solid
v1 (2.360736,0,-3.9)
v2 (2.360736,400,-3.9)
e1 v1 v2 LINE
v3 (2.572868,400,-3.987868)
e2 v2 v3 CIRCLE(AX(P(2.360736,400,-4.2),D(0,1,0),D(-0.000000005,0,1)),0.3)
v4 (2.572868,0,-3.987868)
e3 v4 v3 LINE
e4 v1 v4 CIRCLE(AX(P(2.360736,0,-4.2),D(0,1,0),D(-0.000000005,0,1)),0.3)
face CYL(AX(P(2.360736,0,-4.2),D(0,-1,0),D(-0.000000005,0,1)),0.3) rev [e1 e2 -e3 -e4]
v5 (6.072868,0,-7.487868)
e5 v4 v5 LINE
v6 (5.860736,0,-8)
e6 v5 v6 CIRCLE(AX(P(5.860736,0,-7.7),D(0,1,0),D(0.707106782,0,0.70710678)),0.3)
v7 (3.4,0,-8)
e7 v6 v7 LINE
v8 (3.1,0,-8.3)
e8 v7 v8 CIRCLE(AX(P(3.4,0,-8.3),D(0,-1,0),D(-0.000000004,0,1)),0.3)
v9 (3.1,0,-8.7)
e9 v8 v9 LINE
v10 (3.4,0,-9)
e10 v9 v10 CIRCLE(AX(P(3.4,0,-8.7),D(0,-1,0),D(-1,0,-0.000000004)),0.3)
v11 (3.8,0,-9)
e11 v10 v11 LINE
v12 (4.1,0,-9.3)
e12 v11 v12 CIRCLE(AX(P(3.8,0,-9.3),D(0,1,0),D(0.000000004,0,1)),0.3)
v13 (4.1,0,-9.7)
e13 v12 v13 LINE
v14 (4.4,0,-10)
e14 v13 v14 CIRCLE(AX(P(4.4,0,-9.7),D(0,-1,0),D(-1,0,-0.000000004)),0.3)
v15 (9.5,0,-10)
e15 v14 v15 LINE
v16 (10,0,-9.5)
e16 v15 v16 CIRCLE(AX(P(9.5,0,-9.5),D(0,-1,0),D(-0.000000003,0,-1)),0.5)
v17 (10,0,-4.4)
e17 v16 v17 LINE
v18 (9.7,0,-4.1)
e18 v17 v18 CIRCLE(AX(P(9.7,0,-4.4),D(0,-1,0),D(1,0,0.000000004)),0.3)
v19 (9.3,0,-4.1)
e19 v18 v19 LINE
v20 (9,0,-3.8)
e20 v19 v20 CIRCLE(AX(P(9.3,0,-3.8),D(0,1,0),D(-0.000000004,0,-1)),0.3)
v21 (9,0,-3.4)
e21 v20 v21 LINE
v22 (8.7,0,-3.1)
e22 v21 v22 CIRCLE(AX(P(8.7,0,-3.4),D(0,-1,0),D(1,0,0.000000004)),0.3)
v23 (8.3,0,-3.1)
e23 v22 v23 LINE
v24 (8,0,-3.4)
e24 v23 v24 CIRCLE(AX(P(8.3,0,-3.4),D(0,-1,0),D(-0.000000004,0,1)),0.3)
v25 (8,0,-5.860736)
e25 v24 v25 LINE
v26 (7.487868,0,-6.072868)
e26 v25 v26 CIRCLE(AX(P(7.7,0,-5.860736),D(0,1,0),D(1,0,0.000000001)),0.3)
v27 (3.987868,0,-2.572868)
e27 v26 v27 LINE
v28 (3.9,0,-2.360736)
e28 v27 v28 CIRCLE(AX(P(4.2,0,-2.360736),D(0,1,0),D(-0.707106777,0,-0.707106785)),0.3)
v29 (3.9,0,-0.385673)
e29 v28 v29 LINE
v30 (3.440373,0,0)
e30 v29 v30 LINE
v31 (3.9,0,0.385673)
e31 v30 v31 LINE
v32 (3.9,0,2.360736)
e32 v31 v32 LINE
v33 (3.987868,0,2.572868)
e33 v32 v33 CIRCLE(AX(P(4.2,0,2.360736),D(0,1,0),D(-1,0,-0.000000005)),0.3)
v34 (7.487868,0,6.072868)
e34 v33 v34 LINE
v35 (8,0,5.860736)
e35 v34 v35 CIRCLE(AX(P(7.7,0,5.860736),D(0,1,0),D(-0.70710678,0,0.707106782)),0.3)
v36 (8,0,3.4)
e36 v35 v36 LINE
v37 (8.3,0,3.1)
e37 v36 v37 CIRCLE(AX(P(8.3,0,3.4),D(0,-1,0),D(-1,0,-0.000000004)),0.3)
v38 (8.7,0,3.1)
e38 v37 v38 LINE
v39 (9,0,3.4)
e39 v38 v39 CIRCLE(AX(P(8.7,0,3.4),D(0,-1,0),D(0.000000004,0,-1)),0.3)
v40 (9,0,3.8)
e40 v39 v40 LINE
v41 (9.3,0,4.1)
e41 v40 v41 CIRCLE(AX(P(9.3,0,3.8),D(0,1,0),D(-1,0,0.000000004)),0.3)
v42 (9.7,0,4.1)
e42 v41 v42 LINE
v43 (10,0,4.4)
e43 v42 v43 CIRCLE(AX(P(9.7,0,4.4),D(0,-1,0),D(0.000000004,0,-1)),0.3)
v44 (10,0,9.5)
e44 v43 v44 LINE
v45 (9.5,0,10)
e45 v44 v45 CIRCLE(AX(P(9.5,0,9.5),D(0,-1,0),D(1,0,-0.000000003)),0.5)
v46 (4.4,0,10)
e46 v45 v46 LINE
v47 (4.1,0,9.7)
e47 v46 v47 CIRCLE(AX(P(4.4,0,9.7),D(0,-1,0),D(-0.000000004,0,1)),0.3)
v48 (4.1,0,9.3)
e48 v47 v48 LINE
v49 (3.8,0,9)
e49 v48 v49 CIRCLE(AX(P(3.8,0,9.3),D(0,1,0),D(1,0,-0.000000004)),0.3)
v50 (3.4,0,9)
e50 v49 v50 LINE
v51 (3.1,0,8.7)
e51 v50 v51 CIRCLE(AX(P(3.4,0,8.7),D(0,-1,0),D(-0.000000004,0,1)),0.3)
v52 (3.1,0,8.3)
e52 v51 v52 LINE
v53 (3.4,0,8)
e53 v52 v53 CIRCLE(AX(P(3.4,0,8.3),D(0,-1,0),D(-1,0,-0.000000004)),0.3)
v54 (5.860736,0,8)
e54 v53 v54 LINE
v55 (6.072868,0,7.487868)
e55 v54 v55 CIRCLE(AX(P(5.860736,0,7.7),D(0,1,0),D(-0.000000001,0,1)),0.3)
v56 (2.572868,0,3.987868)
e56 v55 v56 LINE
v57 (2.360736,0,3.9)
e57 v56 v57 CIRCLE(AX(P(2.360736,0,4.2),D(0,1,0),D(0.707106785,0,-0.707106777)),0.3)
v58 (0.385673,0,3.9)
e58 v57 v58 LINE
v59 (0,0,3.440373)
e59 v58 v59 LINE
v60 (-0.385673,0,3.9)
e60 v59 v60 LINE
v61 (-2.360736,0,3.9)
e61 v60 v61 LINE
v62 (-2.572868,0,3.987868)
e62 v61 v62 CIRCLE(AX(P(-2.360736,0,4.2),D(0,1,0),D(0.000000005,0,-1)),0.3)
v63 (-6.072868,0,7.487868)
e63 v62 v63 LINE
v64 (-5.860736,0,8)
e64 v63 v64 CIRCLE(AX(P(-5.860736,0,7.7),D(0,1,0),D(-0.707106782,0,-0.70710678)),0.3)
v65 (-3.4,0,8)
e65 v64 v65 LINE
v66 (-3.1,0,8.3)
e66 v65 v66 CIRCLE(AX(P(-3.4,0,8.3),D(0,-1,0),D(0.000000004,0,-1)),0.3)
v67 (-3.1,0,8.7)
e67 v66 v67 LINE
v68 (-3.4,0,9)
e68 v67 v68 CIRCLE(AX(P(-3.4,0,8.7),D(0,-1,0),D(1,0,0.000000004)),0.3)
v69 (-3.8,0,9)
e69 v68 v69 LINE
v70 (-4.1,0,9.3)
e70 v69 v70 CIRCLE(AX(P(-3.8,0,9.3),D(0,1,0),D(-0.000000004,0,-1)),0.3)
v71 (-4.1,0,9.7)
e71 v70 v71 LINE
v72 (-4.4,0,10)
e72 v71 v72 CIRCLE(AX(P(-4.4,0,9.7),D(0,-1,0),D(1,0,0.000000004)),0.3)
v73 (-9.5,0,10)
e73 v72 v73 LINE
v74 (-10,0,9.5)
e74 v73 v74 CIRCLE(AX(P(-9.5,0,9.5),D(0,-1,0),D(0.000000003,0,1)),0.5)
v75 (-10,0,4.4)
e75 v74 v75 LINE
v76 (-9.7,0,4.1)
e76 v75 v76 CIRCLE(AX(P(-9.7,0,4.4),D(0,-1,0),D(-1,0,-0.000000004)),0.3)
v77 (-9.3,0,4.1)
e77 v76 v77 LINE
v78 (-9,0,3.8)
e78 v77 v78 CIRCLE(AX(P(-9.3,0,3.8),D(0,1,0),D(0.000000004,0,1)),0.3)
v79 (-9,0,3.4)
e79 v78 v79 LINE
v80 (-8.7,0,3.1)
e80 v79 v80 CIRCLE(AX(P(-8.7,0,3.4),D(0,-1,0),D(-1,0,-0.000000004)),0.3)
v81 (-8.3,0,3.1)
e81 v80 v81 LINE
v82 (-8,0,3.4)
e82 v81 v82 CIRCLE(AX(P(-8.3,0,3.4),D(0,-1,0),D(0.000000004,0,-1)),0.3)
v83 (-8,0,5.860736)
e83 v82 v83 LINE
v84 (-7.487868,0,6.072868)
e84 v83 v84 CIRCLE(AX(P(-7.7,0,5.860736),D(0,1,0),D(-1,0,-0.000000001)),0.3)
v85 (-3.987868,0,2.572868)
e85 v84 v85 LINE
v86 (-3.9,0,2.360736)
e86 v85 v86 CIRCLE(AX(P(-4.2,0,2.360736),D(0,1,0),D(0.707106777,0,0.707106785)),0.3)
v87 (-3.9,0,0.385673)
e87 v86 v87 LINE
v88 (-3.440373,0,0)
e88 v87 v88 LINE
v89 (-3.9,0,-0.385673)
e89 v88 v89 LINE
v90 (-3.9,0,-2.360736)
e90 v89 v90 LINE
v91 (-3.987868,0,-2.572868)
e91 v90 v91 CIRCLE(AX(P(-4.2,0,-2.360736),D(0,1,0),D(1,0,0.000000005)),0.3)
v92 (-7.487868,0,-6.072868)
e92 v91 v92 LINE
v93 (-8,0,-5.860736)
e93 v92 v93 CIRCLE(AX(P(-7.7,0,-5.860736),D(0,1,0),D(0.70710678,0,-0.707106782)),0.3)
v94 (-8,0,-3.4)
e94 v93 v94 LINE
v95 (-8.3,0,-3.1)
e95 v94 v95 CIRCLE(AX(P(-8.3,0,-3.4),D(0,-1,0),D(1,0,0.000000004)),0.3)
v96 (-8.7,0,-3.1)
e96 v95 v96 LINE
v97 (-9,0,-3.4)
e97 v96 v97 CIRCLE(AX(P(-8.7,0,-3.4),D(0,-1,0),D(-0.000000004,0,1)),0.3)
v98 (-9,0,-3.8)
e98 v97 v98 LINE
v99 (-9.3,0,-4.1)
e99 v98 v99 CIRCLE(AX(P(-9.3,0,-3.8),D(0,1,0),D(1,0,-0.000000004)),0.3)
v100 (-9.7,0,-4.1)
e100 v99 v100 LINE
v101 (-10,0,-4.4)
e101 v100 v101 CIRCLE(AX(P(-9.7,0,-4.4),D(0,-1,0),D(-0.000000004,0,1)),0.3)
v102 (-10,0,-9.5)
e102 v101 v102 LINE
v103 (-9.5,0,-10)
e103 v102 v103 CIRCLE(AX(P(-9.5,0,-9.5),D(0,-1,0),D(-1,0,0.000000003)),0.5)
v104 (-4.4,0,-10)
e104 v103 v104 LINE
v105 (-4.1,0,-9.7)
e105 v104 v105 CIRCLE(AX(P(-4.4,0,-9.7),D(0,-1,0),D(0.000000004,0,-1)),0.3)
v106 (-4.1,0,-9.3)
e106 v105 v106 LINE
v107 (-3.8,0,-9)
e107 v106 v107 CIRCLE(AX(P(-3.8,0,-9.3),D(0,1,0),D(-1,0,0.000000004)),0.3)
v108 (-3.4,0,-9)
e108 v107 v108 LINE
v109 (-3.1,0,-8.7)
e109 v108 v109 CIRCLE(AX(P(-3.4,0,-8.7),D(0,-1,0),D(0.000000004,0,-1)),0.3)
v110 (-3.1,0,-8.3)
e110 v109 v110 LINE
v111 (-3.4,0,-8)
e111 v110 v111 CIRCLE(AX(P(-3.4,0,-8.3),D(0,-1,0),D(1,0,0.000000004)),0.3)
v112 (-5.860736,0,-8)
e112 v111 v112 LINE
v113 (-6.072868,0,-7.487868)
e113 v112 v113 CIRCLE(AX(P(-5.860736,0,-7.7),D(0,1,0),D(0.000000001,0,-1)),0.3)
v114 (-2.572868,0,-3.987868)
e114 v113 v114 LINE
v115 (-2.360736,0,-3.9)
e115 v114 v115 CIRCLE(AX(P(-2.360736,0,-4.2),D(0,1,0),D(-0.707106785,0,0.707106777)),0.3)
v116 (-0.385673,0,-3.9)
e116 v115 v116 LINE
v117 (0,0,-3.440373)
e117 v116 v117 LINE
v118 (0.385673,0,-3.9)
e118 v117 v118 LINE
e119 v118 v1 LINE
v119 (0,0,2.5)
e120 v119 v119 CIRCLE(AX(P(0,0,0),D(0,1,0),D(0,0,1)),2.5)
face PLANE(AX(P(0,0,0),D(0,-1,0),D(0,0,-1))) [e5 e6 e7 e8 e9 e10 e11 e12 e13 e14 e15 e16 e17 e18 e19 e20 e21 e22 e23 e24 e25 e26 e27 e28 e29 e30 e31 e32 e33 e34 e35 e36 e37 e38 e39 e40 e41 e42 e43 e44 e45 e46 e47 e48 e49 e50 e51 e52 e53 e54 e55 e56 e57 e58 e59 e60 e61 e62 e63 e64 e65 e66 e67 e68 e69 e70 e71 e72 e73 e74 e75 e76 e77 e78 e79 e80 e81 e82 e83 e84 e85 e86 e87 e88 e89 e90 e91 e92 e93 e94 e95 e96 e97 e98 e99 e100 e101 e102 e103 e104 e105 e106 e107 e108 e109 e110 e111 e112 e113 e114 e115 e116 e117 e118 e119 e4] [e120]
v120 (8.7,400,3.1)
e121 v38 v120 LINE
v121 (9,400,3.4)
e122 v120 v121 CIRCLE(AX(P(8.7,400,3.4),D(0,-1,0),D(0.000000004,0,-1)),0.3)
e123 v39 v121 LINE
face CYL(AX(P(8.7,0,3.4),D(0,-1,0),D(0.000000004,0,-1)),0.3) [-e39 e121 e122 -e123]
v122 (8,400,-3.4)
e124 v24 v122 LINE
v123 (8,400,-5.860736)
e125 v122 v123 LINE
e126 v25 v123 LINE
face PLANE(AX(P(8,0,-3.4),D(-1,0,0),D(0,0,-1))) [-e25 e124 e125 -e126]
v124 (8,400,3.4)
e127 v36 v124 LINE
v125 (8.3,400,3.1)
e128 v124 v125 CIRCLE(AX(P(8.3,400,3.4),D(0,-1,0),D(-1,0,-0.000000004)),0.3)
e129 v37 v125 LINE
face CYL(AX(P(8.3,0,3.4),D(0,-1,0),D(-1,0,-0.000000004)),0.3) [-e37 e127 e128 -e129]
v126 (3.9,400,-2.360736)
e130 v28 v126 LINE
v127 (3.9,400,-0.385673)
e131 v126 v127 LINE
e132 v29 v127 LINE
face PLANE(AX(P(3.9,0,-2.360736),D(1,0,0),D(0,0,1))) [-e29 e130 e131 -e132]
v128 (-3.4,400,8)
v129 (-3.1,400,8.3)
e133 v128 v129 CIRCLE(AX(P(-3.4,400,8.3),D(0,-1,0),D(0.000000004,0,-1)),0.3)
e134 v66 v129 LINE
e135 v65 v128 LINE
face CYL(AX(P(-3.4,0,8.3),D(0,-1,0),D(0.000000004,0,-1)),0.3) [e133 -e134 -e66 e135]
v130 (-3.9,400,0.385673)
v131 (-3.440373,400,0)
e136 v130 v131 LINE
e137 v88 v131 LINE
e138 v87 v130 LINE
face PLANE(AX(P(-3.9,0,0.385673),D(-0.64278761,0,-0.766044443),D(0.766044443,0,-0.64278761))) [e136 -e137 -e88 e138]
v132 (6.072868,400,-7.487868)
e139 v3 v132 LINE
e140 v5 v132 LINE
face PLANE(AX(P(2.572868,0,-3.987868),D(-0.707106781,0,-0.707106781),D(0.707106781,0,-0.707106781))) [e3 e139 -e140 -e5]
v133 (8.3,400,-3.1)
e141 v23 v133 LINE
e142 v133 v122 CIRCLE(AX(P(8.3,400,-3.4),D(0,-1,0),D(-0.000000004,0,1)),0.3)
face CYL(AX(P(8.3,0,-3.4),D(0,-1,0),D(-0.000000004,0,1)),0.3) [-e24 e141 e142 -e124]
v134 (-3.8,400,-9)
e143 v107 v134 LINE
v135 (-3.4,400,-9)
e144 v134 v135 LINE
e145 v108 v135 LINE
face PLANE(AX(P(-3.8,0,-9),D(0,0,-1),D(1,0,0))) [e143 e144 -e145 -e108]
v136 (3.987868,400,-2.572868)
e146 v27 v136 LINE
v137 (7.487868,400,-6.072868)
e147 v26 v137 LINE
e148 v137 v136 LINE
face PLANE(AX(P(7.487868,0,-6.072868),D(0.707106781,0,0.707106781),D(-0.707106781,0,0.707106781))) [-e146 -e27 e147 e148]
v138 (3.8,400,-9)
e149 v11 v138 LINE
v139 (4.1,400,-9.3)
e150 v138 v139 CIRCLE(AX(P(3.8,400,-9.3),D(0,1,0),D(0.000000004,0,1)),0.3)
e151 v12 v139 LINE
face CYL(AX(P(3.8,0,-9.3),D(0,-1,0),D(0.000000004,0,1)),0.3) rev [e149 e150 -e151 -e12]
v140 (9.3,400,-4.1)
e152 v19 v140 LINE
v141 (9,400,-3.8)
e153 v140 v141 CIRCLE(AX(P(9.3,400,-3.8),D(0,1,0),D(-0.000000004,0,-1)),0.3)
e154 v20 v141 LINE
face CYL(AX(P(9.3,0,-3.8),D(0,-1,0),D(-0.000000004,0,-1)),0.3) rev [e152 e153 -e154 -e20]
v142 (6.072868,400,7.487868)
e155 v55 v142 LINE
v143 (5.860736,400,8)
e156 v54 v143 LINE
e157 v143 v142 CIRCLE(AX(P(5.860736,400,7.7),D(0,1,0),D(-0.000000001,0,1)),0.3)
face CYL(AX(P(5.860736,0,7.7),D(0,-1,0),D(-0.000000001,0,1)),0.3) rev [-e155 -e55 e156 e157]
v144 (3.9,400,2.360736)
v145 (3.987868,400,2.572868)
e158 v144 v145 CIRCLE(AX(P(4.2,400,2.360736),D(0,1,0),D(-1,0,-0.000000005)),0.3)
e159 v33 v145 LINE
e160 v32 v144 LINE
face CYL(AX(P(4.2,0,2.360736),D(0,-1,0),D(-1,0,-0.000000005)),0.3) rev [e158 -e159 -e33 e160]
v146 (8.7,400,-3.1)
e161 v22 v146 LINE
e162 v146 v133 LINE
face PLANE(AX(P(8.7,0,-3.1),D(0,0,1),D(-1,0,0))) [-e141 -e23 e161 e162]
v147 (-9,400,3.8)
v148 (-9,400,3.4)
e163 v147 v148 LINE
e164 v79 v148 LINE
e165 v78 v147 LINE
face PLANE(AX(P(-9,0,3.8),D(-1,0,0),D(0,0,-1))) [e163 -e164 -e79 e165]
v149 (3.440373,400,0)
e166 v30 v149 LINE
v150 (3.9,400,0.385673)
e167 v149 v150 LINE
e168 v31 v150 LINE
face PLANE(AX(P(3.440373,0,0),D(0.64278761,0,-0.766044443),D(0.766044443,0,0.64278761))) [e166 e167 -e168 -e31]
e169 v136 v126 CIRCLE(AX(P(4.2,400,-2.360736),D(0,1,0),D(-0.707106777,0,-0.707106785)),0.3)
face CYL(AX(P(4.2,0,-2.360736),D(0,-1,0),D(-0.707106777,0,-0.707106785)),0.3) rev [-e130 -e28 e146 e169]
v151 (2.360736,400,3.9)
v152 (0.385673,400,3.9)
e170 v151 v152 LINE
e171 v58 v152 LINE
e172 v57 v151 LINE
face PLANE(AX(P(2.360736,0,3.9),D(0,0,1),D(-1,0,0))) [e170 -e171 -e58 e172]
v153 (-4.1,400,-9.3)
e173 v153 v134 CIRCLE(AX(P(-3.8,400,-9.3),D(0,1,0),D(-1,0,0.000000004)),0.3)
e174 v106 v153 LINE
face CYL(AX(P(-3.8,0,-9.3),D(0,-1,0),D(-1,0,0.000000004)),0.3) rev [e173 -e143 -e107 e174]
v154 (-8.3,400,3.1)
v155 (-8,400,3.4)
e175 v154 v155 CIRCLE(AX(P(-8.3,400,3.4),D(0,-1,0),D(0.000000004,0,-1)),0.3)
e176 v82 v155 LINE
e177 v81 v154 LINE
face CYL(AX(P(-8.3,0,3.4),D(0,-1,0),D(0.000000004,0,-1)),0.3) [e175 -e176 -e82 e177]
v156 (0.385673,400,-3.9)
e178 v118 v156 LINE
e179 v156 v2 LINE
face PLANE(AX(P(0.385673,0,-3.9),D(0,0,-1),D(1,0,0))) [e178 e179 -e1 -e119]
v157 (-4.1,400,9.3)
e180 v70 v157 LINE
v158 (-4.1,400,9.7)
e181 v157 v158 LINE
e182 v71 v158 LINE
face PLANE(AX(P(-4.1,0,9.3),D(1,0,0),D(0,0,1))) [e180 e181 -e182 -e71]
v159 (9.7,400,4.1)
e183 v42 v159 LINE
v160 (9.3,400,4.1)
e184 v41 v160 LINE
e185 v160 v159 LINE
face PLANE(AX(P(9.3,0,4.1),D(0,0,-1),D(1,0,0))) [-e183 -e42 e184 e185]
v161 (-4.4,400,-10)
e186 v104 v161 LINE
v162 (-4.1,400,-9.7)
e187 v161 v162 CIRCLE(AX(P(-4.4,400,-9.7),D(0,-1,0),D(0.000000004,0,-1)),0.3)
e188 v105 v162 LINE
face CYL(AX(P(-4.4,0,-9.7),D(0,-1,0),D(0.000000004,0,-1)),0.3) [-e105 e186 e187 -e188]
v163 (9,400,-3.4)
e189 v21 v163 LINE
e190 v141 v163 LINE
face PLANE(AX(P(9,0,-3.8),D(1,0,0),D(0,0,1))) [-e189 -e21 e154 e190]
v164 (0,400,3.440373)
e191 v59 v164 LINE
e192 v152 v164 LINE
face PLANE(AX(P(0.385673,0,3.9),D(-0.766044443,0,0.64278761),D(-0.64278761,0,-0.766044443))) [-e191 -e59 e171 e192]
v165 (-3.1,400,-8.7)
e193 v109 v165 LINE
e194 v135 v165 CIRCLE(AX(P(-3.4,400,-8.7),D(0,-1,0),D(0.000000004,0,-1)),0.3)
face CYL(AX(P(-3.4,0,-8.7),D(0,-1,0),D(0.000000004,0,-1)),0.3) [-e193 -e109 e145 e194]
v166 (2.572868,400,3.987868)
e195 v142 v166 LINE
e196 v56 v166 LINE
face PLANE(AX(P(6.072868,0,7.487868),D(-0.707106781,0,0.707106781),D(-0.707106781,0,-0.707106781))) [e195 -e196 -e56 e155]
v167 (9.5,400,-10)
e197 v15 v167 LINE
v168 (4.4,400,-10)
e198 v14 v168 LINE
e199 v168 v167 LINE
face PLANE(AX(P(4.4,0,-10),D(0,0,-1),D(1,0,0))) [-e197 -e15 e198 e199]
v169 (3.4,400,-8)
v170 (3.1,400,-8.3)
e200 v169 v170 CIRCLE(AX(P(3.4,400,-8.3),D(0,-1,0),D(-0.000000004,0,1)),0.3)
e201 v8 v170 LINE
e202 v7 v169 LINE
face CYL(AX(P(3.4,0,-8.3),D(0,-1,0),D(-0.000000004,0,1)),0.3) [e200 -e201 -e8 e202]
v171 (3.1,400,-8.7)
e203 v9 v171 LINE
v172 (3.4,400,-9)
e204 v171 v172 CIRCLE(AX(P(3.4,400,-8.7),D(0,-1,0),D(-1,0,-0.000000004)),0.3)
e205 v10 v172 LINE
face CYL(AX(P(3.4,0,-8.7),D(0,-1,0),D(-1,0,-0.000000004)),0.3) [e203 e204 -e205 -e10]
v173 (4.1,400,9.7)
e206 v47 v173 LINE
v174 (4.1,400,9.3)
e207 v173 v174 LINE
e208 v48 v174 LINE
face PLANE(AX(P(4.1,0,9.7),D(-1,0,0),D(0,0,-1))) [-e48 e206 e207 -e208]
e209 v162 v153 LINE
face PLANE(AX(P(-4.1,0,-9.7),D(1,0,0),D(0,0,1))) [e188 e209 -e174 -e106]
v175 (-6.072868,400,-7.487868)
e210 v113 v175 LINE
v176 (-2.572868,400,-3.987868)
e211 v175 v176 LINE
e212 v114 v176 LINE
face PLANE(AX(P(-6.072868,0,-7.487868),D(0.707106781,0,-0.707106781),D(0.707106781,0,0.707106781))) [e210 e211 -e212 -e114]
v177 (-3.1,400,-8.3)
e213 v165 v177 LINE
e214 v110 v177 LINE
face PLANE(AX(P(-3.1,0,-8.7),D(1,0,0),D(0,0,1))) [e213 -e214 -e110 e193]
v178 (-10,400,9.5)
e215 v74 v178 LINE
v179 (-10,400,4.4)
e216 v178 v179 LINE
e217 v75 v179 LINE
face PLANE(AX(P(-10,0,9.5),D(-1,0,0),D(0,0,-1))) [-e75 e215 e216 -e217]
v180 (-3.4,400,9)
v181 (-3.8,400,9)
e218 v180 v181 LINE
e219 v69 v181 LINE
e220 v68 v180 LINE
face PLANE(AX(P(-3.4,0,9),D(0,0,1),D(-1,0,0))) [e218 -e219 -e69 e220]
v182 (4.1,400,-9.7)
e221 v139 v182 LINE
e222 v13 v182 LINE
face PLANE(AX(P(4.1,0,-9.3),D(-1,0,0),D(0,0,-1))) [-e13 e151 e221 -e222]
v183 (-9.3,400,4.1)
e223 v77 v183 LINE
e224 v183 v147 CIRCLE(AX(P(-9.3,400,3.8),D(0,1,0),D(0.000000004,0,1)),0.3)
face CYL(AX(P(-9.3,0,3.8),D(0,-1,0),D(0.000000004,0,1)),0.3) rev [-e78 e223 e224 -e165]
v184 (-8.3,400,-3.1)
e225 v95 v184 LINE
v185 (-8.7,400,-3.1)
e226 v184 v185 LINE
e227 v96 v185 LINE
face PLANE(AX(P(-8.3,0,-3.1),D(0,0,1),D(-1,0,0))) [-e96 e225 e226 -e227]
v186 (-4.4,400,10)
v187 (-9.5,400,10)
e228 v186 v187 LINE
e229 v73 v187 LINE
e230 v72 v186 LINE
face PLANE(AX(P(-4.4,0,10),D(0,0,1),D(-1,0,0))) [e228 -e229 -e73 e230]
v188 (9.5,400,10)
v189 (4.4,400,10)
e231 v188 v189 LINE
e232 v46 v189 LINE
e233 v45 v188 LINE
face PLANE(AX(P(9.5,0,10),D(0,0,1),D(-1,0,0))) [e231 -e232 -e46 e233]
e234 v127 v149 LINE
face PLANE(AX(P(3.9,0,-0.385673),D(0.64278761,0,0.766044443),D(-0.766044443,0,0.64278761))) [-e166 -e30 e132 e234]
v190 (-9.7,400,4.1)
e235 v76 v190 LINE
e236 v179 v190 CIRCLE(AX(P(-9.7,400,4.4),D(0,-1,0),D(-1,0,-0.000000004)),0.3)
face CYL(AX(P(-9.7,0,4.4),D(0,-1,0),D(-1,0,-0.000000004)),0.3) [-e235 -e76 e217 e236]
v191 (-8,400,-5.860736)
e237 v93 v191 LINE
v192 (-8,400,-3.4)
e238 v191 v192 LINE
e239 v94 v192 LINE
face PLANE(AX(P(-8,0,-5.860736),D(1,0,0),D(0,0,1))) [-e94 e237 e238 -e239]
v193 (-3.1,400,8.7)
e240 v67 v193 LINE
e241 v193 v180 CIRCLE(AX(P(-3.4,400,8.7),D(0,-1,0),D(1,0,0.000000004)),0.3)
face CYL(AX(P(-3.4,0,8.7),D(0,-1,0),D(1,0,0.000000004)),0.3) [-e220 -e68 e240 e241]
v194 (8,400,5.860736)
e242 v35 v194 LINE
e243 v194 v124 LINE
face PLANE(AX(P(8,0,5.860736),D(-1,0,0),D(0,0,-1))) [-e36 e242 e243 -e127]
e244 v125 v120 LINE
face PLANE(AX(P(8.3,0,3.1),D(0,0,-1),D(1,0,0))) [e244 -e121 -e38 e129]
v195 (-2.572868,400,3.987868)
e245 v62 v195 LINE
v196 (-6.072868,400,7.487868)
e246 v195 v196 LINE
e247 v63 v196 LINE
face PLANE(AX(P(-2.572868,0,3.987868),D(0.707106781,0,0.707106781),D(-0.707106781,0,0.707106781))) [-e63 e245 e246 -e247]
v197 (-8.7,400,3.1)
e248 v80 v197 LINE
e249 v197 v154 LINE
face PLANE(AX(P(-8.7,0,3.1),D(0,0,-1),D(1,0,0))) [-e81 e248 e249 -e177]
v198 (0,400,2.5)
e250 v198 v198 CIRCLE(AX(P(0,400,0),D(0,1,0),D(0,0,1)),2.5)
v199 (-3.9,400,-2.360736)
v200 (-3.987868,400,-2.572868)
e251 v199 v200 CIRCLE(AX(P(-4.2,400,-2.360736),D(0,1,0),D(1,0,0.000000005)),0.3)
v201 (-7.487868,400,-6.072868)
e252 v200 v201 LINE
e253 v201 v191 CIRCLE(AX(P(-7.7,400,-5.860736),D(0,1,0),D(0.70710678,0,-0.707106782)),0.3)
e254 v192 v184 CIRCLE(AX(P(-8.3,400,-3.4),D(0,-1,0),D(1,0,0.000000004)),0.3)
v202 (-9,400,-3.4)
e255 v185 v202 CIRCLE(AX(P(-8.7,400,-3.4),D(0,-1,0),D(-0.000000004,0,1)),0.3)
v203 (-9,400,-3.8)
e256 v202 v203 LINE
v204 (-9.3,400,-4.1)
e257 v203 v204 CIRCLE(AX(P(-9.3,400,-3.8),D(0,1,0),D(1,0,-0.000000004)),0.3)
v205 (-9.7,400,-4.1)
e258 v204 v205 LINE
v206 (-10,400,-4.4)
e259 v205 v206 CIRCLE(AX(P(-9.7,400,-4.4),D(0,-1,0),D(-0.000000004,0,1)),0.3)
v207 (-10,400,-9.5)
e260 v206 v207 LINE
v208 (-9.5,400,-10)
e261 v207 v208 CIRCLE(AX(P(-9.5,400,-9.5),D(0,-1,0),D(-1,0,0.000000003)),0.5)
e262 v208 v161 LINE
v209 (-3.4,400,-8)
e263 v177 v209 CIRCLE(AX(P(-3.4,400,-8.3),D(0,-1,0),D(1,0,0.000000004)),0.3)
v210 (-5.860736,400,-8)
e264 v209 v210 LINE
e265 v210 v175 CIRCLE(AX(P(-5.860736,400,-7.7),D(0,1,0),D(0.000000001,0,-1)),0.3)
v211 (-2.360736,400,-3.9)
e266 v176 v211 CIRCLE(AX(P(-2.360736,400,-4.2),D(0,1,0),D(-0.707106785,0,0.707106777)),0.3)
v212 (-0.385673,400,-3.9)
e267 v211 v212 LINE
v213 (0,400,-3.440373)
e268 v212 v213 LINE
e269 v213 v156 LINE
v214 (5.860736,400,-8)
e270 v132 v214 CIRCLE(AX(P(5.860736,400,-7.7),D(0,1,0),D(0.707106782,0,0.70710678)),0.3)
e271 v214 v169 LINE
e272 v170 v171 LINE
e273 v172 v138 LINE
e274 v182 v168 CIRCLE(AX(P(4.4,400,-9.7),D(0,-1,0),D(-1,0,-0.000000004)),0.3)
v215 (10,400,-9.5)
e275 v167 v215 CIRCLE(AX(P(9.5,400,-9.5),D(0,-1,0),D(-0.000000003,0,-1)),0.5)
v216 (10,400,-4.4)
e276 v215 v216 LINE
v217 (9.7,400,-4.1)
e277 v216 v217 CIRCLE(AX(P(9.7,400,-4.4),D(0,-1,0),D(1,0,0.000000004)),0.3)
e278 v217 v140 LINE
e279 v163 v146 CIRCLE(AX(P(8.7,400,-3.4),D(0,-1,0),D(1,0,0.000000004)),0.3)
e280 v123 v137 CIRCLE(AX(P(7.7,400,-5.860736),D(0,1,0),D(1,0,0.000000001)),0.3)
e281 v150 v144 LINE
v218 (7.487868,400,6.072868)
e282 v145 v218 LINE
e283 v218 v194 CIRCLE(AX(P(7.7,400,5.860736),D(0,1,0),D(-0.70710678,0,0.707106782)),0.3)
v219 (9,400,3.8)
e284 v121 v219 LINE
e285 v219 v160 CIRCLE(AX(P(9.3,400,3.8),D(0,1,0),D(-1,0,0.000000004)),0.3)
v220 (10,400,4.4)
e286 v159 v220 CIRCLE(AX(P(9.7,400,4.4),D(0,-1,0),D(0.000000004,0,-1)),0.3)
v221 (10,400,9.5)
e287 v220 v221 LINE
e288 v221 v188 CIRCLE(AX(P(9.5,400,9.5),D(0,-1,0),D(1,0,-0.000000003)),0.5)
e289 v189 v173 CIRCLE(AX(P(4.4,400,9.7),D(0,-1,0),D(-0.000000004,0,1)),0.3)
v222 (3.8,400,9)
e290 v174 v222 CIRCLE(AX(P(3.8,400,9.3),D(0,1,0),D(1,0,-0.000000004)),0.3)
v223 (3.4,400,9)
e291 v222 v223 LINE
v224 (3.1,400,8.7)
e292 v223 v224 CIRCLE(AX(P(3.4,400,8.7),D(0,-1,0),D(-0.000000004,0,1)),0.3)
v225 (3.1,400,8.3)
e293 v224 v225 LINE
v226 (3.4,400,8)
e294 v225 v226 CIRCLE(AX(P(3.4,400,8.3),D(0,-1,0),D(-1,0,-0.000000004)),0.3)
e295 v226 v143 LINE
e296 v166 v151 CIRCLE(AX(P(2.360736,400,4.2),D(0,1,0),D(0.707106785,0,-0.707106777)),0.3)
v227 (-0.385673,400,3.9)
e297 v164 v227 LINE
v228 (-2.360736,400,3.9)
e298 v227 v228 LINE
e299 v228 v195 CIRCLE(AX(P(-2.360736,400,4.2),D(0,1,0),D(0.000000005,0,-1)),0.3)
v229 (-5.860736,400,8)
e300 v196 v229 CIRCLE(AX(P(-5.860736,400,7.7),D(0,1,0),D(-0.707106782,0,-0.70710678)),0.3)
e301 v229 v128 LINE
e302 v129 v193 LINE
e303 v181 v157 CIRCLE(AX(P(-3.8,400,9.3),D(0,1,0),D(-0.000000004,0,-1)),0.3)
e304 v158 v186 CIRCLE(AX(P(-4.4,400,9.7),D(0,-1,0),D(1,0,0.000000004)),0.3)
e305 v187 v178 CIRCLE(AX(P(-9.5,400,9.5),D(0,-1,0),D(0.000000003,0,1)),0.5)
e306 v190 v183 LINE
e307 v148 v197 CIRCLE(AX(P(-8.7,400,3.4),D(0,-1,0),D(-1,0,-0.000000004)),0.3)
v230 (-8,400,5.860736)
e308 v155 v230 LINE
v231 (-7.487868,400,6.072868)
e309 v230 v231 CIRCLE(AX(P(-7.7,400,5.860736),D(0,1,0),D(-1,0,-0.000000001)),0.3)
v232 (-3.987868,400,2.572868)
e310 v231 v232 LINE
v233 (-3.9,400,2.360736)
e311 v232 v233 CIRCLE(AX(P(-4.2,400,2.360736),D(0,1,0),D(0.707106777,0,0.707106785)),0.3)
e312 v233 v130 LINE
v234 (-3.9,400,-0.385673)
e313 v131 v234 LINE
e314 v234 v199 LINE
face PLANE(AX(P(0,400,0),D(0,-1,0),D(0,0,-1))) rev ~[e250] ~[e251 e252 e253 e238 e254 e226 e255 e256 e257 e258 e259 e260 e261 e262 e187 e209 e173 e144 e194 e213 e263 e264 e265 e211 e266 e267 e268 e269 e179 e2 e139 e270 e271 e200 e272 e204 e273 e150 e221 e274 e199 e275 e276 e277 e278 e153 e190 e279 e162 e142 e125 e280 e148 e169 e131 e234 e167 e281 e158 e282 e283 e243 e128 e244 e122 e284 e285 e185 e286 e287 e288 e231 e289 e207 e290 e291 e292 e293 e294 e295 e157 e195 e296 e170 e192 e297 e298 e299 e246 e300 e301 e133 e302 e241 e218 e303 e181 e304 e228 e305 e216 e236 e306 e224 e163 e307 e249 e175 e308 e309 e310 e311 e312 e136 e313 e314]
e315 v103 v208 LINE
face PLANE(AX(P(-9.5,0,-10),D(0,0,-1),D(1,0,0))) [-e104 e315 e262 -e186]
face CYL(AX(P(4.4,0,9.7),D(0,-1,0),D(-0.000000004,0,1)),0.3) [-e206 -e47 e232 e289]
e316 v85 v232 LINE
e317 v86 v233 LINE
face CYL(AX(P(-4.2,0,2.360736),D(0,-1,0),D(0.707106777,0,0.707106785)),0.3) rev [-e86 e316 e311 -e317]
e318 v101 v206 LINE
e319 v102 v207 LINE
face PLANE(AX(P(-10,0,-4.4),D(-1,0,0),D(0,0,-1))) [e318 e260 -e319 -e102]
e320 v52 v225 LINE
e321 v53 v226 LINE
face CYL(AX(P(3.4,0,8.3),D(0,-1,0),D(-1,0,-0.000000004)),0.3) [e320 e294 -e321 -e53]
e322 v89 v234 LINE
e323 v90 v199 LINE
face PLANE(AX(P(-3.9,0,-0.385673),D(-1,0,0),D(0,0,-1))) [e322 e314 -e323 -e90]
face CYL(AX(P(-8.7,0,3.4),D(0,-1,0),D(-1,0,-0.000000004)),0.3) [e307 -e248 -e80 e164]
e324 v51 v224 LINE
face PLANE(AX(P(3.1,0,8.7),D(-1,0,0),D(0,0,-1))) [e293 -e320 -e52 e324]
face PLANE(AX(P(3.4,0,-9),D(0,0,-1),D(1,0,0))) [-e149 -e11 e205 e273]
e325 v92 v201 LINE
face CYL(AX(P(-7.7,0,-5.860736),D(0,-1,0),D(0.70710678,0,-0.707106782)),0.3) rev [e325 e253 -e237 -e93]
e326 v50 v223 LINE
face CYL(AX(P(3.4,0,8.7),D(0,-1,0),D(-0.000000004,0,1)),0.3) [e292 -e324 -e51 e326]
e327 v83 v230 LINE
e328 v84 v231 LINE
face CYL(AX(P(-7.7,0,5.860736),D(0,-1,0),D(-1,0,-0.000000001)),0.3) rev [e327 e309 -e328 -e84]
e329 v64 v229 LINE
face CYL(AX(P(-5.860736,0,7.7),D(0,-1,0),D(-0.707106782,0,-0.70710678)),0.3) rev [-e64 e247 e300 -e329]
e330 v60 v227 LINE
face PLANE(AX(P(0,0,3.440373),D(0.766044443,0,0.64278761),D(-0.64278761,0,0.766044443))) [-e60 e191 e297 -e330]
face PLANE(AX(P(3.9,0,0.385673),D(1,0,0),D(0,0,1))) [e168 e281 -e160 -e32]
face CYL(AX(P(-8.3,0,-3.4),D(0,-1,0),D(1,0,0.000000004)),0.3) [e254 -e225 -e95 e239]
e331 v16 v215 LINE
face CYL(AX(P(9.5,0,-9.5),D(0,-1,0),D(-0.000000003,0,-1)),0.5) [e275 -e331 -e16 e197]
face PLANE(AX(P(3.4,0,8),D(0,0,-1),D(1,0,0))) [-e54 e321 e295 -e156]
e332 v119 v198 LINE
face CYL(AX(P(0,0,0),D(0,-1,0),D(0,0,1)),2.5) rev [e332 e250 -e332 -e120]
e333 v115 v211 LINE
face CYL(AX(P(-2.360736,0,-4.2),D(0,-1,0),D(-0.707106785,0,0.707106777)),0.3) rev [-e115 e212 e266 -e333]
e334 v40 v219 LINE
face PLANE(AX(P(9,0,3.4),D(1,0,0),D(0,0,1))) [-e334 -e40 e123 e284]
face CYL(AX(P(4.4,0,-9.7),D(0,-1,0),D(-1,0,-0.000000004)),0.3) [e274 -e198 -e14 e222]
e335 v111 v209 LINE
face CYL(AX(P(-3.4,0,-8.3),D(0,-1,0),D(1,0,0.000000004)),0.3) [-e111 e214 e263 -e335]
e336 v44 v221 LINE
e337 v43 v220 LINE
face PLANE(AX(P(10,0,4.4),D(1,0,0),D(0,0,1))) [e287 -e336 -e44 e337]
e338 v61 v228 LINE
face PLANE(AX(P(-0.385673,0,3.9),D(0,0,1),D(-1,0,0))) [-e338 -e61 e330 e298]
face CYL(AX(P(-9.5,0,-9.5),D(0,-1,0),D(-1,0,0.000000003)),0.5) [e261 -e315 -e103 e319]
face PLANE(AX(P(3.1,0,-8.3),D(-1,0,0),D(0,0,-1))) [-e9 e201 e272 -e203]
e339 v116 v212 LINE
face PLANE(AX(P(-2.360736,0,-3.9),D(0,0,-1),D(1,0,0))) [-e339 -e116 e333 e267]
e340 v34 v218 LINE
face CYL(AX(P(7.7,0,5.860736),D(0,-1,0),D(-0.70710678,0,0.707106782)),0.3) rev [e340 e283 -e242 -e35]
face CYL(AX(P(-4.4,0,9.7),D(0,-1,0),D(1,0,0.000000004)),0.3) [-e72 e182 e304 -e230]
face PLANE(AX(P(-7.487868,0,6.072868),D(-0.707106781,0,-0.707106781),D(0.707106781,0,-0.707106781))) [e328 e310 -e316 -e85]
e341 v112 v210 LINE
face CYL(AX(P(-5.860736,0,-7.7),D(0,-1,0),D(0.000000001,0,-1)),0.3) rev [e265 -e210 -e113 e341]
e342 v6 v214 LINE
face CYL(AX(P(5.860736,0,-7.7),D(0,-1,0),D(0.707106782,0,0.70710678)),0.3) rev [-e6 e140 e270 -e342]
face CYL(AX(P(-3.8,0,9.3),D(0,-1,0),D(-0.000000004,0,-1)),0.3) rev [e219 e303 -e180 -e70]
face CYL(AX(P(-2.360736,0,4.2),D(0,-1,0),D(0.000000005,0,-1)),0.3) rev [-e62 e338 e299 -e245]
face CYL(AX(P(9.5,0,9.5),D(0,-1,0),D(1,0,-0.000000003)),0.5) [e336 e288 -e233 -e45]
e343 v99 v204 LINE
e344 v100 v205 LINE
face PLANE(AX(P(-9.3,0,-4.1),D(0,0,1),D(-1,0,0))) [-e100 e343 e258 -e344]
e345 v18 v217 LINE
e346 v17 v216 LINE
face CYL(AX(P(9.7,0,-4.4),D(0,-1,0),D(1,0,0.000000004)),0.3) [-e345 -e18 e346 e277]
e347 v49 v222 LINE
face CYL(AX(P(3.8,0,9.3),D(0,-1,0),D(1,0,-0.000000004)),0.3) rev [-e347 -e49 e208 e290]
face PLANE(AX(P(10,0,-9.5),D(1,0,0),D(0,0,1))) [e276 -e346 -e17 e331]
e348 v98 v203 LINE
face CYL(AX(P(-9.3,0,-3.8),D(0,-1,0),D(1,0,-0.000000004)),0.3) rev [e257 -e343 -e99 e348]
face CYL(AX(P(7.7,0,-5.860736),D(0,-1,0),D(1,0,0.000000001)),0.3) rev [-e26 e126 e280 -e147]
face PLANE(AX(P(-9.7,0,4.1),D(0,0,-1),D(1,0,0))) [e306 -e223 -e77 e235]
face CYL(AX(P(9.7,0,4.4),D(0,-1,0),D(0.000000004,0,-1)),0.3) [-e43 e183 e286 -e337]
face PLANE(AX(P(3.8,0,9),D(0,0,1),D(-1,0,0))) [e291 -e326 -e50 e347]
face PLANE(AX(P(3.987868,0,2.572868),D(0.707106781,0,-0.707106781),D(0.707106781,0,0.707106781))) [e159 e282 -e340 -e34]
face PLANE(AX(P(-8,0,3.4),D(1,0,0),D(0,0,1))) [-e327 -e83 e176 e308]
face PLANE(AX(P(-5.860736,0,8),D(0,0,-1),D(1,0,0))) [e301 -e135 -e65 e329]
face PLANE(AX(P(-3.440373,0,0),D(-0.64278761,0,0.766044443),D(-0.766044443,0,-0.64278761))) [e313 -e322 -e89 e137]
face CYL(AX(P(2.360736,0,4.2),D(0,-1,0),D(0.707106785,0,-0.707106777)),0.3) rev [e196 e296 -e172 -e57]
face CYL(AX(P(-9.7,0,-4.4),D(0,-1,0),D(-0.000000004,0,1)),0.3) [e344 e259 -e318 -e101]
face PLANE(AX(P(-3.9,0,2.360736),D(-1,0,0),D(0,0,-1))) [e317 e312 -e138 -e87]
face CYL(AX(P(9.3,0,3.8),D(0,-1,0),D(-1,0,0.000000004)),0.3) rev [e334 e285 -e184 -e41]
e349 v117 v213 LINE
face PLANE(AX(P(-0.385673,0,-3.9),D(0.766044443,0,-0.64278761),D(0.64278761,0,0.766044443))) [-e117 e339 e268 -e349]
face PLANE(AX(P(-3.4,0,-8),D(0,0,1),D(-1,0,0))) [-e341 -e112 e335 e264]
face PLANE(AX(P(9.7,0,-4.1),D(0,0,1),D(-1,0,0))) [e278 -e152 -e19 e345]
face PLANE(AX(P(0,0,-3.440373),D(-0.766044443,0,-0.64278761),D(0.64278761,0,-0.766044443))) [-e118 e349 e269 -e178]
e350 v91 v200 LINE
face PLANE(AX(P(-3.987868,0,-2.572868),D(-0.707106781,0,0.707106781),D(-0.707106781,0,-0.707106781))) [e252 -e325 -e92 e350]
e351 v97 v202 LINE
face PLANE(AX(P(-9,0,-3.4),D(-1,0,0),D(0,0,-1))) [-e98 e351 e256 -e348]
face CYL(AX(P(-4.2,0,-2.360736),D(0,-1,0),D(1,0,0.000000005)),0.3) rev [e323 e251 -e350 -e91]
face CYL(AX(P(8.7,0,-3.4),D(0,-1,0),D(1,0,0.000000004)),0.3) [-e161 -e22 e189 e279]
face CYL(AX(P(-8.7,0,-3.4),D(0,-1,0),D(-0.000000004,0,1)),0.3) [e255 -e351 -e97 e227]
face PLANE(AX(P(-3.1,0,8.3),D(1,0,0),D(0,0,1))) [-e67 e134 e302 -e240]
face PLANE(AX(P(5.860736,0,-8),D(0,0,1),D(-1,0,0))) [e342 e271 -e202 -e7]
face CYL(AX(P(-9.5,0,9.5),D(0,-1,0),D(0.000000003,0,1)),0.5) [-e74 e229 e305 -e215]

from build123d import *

# Parameters (mm, degrees)
SKETCH2_R                 = 2.5
VUONG_NHOMDH20X20_1_DEPTH = 400


with BuildPart() as part:
    # Sketch2 → Vuong NHOMDH20X20(1) (new body)
    with BuildSketch(Plane.ZX):
        with BuildLine():
            Line((0.385672566, 3.9), (2.360735931, 3.9))
            ThreePointArc((2.360735931, 3.9), (2.475540961, 3.92283614), (2.572867966, 3.987867966))
            Line((2.572867966, 3.987867966), (6.072867966, 7.487867966))
            ThreePointArc((6.072867966, 7.487867966), (6.137899791, 7.81480503), (5.860735931, 8))
            Line((5.860735931, 8), (3.4, 8))
            ThreePointArc((3.4, 8), (3.187867966, 8.087867966), (3.1, 8.3))
            Line((3.1, 8.3), (3.1, 8.7))
            ThreePointArc((3.1, 8.7), (3.187867966, 8.912132034), (3.4, 9))
            Line((3.4, 9), (3.8, 9))
            ThreePointArc((3.8, 9), (4.012132034, 9.087867966), (4.1, 9.3))
            Line((4.1, 9.3), (4.1, 9.7))
            ThreePointArc((4.1, 9.7), (4.187867966, 9.912132034), (4.4, 10))
            Line((4.4, 10), (9.5, 10))
            ThreePointArc((9.5, 10), (9.853553391, 9.853553391), (10, 9.5))
            Line((10, 9.5), (10, 4.4))
            ThreePointArc((10, 4.4), (9.912132034, 4.187867966), (9.7, 4.1))
            Line((9.7, 4.1), (9.3, 4.1))
            ThreePointArc((9.3, 4.1), (9.087867966, 4.012132034), (9, 3.8))
            Line((9, 3.8), (9, 3.4))
            ThreePointArc((9, 3.4), (8.912132034, 3.187867966), (8.7, 3.1))
            Line((8.7, 3.1), (8.3, 3.1))
            ThreePointArc((8.3, 3.1), (8.087867966, 3.187867966), (8, 3.4))
            Line((8, 3.4), (8, 5.860735931))
            ThreePointArc((8, 5.860735931), (7.81480503, 6.137899791), (7.487867966, 6.072867966))
            Line((7.487867966, 6.072867966), (3.987867966, 2.572867966))
            ThreePointArc((3.987867966, 2.572867966), (3.92283614, 2.475540961), (3.9, 2.360735931))
            Line((3.9, 2.360735931), (3.9, 0.385672566))
            Line((3.9, 0.385672566), (3.440373334, 0))
            Line((3.440373334, 0), (3.9, -0.385672566))
            Line((3.9, -0.385672566), (3.9, -2.360735931))
            ThreePointArc((3.9, -2.360735931), (3.92283614, -2.475540961), (3.987867966, -2.572867966))
            Line((3.987867966, -2.572867966), (7.487867966, -6.072867966))
            ThreePointArc((7.487867966, -6.072867966), (7.81480503, -6.137899791), (8, -5.860735931))
            Line((8, -5.860735931), (8, -3.4))
            ThreePointArc((8, -3.4), (8.087867966, -3.187867966), (8.3, -3.1))
            Line((8.3, -3.1), (8.7, -3.1))
            ThreePointArc((8.7, -3.1), (8.912132034, -3.187867966), (9, -3.4))
            Line((9, -3.4), (9, -3.8))
            ThreePointArc((9, -3.8), (9.087867966, -4.012132034), (9.3, -4.1))
            Line((9.3, -4.1), (9.7, -4.1))
            ThreePointArc((9.7, -4.1), (9.912132034, -4.187867966), (10, -4.4))
            Line((10, -4.4), (10, -9.5))
            ThreePointArc((10, -9.5), (9.853553391, -9.853553391), (9.5, -10))
            Line((9.5, -10), (4.4, -10))
            ThreePointArc((4.4, -10), (4.187867966, -9.912132034), (4.1, -9.7))
            Line((4.1, -9.7), (4.1, -9.3))
            ThreePointArc((4.1, -9.3), (4.012132034, -9.087867966), (3.8, -9))
            Line((3.8, -9), (3.4, -9))
            ThreePointArc((3.4, -9), (3.187867966, -8.912132034), (3.1, -8.7))
            Line((3.1, -8.7), (3.1, -8.3))
            ThreePointArc((3.1, -8.3), (3.187867966, -8.087867966), (3.4, -8))
            Line((3.4, -8), (5.860735931, -8))
            ThreePointArc((5.860735931, -8), (6.137899791, -7.81480503), (6.072867966, -7.487867966))
            Line((6.072867966, -7.487867966), (2.572867966, -3.987867966))
            ThreePointArc((2.572867966, -3.987867966), (2.475540961, -3.92283614), (2.360735931, -3.9))
            Line((2.360735931, -3.9), (0.385672566, -3.9))
            Line((0.385672566, -3.9), (0, -3.440373334))
            Line((0, -3.440373334), (-0.385672566, -3.9))
            Line((-0.385672566, -3.9), (-2.360735931, -3.9))
            ThreePointArc((-2.360735931, -3.9), (-2.475540961, -3.92283614), (-2.572867966, -3.987867966))
            Line((-2.572867966, -3.987867966), (-6.072867966, -7.487867966))
            ThreePointArc((-6.072867966, -7.487867966), (-6.137899791, -7.81480503), (-5.860735931, -8))
            Line((-5.860735931, -8), (-3.4, -8))
            ThreePointArc((-3.4, -8), (-3.187867966, -8.087867966), (-3.1, -8.3))
            Line((-3.1, -8.3), (-3.1, -8.7))
            ThreePointArc((-3.1, -8.7), (-3.187867966, -8.912132034), (-3.4, -9))
            Line((-3.4, -9), (-3.8, -9))
            ThreePointArc((-3.8, -9), (-4.012132034, -9.087867966), (-4.1, -9.3))
            Line((-4.1, -9.3), (-4.1, -9.7))
            ThreePointArc((-4.1, -9.7), (-4.187867966, -9.912132034), (-4.4, -10))
            Line((-4.4, -10), (-9.5, -10))
            ThreePointArc((-9.5, -10), (-9.853553391, -9.853553391), (-10, -9.5))
            Line((-10, -9.5), (-10, -4.4))
            ThreePointArc((-10, -4.4), (-9.912132034, -4.187867966), (-9.7, -4.1))
            Line((-9.7, -4.1), (-9.3, -4.1))
            ThreePointArc((-9.3, -4.1), (-9.087867966, -4.012132034), (-9, -3.8))
            Line((-9, -3.8), (-9, -3.4))
            ThreePointArc((-9, -3.4), (-8.912132034, -3.187867966), (-8.7, -3.1))
            Line((-8.7, -3.1), (-8.3, -3.1))
            ThreePointArc((-8.3, -3.1), (-8.087867966, -3.187867966), (-8, -3.4))
            Line((-8, -3.4), (-8, -5.860735931))
            ThreePointArc((-8, -5.860735931), (-7.81480503, -6.137899791), (-7.487867966, -6.072867966))
            Line((-7.487867966, -6.072867966), (-3.987867966, -2.572867966))
            ThreePointArc((-3.987867966, -2.572867966), (-3.92283614, -2.475540961), (-3.9, -2.360735931))
            Line((-3.9, -2.360735931), (-3.9, -0.385672566))
            Line((-3.9, -0.385672566), (-3.440373334, 0))
            Line((-3.440373334, 0), (-3.9, 0.385672566))
            Line((-3.9, 0.385672566), (-3.9, 2.360735931))
            ThreePointArc((-3.9, 2.360735931), (-3.92283614, 2.475540961), (-3.987867966, 2.572867966))
            Line((-3.987867966, 2.572867966), (-7.487867966, 6.072867966))
            ThreePointArc((-7.487867966, 6.072867966), (-7.81480503, 6.137899791), (-8, 5.860735931))
            Line((-8, 5.860735931), (-8, 3.4))
            ThreePointArc((-8, 3.4), (-8.087867966, 3.187867966), (-8.3, 3.1))
            Line((-8.3, 3.1), (-8.7, 3.1))
            ThreePointArc((-8.7, 3.1), (-8.912132034, 3.187867966), (-9, 3.4))
            Line((-9, 3.4), (-9, 3.8))
            ThreePointArc((-9, 3.8), (-9.087867966, 4.012132034), (-9.3, 4.1))
            Line((-9.3, 4.1), (-9.7, 4.1))
            ThreePointArc((-9.7, 4.1), (-9.912132034, 4.187867966), (-10, 4.4))
            Line((-10, 4.4), (-10, 9.5))
            ThreePointArc((-10, 9.5), (-9.853553391, 9.853553391), (-9.5, 10))
            Line((-9.5, 10), (-4.4, 10))
            ThreePointArc((-4.4, 10), (-4.187867966, 9.912132034), (-4.1, 9.7))
            Line((-4.1, 9.7), (-4.1, 9.3))
            ThreePointArc((-4.1, 9.3), (-4.012132034, 9.087867966), (-3.8, 9))
            Line((-3.8, 9), (-3.4, 9))
            ThreePointArc((-3.4, 9), (-3.187867966, 8.912132034), (-3.1, 8.7))
            Line((-3.1, 8.7), (-3.1, 8.3))
            ThreePointArc((-3.1, 8.3), (-3.187867966, 8.087867966), (-3.4, 8))
            Line((-3.4, 8), (-5.860735931, 8))
            ThreePointArc((-5.860735931, 8), (-6.137899791, 7.81480503), (-6.072867966, 7.487867966))
            Line((-6.072867966, 7.487867966), (-2.572867966, 3.987867966))
            ThreePointArc((-2.572867966, 3.987867966), (-2.475540961, 3.92283614), (-2.360735931, 3.9))
            Line((-2.360735931, 3.9), (-0.385672566, 3.9))
            Line((-0.385672566, 3.9), (0, 3.440373334))
            Line((0, 3.440373334), (0.385672566, 3.9))
        make_face()
        Circle(SKETCH2_R, mode=Mode.SUBTRACT)
    extrude(amount=VUONG_NHOMDH20X20_1_DEPTH)


solid = part.part
